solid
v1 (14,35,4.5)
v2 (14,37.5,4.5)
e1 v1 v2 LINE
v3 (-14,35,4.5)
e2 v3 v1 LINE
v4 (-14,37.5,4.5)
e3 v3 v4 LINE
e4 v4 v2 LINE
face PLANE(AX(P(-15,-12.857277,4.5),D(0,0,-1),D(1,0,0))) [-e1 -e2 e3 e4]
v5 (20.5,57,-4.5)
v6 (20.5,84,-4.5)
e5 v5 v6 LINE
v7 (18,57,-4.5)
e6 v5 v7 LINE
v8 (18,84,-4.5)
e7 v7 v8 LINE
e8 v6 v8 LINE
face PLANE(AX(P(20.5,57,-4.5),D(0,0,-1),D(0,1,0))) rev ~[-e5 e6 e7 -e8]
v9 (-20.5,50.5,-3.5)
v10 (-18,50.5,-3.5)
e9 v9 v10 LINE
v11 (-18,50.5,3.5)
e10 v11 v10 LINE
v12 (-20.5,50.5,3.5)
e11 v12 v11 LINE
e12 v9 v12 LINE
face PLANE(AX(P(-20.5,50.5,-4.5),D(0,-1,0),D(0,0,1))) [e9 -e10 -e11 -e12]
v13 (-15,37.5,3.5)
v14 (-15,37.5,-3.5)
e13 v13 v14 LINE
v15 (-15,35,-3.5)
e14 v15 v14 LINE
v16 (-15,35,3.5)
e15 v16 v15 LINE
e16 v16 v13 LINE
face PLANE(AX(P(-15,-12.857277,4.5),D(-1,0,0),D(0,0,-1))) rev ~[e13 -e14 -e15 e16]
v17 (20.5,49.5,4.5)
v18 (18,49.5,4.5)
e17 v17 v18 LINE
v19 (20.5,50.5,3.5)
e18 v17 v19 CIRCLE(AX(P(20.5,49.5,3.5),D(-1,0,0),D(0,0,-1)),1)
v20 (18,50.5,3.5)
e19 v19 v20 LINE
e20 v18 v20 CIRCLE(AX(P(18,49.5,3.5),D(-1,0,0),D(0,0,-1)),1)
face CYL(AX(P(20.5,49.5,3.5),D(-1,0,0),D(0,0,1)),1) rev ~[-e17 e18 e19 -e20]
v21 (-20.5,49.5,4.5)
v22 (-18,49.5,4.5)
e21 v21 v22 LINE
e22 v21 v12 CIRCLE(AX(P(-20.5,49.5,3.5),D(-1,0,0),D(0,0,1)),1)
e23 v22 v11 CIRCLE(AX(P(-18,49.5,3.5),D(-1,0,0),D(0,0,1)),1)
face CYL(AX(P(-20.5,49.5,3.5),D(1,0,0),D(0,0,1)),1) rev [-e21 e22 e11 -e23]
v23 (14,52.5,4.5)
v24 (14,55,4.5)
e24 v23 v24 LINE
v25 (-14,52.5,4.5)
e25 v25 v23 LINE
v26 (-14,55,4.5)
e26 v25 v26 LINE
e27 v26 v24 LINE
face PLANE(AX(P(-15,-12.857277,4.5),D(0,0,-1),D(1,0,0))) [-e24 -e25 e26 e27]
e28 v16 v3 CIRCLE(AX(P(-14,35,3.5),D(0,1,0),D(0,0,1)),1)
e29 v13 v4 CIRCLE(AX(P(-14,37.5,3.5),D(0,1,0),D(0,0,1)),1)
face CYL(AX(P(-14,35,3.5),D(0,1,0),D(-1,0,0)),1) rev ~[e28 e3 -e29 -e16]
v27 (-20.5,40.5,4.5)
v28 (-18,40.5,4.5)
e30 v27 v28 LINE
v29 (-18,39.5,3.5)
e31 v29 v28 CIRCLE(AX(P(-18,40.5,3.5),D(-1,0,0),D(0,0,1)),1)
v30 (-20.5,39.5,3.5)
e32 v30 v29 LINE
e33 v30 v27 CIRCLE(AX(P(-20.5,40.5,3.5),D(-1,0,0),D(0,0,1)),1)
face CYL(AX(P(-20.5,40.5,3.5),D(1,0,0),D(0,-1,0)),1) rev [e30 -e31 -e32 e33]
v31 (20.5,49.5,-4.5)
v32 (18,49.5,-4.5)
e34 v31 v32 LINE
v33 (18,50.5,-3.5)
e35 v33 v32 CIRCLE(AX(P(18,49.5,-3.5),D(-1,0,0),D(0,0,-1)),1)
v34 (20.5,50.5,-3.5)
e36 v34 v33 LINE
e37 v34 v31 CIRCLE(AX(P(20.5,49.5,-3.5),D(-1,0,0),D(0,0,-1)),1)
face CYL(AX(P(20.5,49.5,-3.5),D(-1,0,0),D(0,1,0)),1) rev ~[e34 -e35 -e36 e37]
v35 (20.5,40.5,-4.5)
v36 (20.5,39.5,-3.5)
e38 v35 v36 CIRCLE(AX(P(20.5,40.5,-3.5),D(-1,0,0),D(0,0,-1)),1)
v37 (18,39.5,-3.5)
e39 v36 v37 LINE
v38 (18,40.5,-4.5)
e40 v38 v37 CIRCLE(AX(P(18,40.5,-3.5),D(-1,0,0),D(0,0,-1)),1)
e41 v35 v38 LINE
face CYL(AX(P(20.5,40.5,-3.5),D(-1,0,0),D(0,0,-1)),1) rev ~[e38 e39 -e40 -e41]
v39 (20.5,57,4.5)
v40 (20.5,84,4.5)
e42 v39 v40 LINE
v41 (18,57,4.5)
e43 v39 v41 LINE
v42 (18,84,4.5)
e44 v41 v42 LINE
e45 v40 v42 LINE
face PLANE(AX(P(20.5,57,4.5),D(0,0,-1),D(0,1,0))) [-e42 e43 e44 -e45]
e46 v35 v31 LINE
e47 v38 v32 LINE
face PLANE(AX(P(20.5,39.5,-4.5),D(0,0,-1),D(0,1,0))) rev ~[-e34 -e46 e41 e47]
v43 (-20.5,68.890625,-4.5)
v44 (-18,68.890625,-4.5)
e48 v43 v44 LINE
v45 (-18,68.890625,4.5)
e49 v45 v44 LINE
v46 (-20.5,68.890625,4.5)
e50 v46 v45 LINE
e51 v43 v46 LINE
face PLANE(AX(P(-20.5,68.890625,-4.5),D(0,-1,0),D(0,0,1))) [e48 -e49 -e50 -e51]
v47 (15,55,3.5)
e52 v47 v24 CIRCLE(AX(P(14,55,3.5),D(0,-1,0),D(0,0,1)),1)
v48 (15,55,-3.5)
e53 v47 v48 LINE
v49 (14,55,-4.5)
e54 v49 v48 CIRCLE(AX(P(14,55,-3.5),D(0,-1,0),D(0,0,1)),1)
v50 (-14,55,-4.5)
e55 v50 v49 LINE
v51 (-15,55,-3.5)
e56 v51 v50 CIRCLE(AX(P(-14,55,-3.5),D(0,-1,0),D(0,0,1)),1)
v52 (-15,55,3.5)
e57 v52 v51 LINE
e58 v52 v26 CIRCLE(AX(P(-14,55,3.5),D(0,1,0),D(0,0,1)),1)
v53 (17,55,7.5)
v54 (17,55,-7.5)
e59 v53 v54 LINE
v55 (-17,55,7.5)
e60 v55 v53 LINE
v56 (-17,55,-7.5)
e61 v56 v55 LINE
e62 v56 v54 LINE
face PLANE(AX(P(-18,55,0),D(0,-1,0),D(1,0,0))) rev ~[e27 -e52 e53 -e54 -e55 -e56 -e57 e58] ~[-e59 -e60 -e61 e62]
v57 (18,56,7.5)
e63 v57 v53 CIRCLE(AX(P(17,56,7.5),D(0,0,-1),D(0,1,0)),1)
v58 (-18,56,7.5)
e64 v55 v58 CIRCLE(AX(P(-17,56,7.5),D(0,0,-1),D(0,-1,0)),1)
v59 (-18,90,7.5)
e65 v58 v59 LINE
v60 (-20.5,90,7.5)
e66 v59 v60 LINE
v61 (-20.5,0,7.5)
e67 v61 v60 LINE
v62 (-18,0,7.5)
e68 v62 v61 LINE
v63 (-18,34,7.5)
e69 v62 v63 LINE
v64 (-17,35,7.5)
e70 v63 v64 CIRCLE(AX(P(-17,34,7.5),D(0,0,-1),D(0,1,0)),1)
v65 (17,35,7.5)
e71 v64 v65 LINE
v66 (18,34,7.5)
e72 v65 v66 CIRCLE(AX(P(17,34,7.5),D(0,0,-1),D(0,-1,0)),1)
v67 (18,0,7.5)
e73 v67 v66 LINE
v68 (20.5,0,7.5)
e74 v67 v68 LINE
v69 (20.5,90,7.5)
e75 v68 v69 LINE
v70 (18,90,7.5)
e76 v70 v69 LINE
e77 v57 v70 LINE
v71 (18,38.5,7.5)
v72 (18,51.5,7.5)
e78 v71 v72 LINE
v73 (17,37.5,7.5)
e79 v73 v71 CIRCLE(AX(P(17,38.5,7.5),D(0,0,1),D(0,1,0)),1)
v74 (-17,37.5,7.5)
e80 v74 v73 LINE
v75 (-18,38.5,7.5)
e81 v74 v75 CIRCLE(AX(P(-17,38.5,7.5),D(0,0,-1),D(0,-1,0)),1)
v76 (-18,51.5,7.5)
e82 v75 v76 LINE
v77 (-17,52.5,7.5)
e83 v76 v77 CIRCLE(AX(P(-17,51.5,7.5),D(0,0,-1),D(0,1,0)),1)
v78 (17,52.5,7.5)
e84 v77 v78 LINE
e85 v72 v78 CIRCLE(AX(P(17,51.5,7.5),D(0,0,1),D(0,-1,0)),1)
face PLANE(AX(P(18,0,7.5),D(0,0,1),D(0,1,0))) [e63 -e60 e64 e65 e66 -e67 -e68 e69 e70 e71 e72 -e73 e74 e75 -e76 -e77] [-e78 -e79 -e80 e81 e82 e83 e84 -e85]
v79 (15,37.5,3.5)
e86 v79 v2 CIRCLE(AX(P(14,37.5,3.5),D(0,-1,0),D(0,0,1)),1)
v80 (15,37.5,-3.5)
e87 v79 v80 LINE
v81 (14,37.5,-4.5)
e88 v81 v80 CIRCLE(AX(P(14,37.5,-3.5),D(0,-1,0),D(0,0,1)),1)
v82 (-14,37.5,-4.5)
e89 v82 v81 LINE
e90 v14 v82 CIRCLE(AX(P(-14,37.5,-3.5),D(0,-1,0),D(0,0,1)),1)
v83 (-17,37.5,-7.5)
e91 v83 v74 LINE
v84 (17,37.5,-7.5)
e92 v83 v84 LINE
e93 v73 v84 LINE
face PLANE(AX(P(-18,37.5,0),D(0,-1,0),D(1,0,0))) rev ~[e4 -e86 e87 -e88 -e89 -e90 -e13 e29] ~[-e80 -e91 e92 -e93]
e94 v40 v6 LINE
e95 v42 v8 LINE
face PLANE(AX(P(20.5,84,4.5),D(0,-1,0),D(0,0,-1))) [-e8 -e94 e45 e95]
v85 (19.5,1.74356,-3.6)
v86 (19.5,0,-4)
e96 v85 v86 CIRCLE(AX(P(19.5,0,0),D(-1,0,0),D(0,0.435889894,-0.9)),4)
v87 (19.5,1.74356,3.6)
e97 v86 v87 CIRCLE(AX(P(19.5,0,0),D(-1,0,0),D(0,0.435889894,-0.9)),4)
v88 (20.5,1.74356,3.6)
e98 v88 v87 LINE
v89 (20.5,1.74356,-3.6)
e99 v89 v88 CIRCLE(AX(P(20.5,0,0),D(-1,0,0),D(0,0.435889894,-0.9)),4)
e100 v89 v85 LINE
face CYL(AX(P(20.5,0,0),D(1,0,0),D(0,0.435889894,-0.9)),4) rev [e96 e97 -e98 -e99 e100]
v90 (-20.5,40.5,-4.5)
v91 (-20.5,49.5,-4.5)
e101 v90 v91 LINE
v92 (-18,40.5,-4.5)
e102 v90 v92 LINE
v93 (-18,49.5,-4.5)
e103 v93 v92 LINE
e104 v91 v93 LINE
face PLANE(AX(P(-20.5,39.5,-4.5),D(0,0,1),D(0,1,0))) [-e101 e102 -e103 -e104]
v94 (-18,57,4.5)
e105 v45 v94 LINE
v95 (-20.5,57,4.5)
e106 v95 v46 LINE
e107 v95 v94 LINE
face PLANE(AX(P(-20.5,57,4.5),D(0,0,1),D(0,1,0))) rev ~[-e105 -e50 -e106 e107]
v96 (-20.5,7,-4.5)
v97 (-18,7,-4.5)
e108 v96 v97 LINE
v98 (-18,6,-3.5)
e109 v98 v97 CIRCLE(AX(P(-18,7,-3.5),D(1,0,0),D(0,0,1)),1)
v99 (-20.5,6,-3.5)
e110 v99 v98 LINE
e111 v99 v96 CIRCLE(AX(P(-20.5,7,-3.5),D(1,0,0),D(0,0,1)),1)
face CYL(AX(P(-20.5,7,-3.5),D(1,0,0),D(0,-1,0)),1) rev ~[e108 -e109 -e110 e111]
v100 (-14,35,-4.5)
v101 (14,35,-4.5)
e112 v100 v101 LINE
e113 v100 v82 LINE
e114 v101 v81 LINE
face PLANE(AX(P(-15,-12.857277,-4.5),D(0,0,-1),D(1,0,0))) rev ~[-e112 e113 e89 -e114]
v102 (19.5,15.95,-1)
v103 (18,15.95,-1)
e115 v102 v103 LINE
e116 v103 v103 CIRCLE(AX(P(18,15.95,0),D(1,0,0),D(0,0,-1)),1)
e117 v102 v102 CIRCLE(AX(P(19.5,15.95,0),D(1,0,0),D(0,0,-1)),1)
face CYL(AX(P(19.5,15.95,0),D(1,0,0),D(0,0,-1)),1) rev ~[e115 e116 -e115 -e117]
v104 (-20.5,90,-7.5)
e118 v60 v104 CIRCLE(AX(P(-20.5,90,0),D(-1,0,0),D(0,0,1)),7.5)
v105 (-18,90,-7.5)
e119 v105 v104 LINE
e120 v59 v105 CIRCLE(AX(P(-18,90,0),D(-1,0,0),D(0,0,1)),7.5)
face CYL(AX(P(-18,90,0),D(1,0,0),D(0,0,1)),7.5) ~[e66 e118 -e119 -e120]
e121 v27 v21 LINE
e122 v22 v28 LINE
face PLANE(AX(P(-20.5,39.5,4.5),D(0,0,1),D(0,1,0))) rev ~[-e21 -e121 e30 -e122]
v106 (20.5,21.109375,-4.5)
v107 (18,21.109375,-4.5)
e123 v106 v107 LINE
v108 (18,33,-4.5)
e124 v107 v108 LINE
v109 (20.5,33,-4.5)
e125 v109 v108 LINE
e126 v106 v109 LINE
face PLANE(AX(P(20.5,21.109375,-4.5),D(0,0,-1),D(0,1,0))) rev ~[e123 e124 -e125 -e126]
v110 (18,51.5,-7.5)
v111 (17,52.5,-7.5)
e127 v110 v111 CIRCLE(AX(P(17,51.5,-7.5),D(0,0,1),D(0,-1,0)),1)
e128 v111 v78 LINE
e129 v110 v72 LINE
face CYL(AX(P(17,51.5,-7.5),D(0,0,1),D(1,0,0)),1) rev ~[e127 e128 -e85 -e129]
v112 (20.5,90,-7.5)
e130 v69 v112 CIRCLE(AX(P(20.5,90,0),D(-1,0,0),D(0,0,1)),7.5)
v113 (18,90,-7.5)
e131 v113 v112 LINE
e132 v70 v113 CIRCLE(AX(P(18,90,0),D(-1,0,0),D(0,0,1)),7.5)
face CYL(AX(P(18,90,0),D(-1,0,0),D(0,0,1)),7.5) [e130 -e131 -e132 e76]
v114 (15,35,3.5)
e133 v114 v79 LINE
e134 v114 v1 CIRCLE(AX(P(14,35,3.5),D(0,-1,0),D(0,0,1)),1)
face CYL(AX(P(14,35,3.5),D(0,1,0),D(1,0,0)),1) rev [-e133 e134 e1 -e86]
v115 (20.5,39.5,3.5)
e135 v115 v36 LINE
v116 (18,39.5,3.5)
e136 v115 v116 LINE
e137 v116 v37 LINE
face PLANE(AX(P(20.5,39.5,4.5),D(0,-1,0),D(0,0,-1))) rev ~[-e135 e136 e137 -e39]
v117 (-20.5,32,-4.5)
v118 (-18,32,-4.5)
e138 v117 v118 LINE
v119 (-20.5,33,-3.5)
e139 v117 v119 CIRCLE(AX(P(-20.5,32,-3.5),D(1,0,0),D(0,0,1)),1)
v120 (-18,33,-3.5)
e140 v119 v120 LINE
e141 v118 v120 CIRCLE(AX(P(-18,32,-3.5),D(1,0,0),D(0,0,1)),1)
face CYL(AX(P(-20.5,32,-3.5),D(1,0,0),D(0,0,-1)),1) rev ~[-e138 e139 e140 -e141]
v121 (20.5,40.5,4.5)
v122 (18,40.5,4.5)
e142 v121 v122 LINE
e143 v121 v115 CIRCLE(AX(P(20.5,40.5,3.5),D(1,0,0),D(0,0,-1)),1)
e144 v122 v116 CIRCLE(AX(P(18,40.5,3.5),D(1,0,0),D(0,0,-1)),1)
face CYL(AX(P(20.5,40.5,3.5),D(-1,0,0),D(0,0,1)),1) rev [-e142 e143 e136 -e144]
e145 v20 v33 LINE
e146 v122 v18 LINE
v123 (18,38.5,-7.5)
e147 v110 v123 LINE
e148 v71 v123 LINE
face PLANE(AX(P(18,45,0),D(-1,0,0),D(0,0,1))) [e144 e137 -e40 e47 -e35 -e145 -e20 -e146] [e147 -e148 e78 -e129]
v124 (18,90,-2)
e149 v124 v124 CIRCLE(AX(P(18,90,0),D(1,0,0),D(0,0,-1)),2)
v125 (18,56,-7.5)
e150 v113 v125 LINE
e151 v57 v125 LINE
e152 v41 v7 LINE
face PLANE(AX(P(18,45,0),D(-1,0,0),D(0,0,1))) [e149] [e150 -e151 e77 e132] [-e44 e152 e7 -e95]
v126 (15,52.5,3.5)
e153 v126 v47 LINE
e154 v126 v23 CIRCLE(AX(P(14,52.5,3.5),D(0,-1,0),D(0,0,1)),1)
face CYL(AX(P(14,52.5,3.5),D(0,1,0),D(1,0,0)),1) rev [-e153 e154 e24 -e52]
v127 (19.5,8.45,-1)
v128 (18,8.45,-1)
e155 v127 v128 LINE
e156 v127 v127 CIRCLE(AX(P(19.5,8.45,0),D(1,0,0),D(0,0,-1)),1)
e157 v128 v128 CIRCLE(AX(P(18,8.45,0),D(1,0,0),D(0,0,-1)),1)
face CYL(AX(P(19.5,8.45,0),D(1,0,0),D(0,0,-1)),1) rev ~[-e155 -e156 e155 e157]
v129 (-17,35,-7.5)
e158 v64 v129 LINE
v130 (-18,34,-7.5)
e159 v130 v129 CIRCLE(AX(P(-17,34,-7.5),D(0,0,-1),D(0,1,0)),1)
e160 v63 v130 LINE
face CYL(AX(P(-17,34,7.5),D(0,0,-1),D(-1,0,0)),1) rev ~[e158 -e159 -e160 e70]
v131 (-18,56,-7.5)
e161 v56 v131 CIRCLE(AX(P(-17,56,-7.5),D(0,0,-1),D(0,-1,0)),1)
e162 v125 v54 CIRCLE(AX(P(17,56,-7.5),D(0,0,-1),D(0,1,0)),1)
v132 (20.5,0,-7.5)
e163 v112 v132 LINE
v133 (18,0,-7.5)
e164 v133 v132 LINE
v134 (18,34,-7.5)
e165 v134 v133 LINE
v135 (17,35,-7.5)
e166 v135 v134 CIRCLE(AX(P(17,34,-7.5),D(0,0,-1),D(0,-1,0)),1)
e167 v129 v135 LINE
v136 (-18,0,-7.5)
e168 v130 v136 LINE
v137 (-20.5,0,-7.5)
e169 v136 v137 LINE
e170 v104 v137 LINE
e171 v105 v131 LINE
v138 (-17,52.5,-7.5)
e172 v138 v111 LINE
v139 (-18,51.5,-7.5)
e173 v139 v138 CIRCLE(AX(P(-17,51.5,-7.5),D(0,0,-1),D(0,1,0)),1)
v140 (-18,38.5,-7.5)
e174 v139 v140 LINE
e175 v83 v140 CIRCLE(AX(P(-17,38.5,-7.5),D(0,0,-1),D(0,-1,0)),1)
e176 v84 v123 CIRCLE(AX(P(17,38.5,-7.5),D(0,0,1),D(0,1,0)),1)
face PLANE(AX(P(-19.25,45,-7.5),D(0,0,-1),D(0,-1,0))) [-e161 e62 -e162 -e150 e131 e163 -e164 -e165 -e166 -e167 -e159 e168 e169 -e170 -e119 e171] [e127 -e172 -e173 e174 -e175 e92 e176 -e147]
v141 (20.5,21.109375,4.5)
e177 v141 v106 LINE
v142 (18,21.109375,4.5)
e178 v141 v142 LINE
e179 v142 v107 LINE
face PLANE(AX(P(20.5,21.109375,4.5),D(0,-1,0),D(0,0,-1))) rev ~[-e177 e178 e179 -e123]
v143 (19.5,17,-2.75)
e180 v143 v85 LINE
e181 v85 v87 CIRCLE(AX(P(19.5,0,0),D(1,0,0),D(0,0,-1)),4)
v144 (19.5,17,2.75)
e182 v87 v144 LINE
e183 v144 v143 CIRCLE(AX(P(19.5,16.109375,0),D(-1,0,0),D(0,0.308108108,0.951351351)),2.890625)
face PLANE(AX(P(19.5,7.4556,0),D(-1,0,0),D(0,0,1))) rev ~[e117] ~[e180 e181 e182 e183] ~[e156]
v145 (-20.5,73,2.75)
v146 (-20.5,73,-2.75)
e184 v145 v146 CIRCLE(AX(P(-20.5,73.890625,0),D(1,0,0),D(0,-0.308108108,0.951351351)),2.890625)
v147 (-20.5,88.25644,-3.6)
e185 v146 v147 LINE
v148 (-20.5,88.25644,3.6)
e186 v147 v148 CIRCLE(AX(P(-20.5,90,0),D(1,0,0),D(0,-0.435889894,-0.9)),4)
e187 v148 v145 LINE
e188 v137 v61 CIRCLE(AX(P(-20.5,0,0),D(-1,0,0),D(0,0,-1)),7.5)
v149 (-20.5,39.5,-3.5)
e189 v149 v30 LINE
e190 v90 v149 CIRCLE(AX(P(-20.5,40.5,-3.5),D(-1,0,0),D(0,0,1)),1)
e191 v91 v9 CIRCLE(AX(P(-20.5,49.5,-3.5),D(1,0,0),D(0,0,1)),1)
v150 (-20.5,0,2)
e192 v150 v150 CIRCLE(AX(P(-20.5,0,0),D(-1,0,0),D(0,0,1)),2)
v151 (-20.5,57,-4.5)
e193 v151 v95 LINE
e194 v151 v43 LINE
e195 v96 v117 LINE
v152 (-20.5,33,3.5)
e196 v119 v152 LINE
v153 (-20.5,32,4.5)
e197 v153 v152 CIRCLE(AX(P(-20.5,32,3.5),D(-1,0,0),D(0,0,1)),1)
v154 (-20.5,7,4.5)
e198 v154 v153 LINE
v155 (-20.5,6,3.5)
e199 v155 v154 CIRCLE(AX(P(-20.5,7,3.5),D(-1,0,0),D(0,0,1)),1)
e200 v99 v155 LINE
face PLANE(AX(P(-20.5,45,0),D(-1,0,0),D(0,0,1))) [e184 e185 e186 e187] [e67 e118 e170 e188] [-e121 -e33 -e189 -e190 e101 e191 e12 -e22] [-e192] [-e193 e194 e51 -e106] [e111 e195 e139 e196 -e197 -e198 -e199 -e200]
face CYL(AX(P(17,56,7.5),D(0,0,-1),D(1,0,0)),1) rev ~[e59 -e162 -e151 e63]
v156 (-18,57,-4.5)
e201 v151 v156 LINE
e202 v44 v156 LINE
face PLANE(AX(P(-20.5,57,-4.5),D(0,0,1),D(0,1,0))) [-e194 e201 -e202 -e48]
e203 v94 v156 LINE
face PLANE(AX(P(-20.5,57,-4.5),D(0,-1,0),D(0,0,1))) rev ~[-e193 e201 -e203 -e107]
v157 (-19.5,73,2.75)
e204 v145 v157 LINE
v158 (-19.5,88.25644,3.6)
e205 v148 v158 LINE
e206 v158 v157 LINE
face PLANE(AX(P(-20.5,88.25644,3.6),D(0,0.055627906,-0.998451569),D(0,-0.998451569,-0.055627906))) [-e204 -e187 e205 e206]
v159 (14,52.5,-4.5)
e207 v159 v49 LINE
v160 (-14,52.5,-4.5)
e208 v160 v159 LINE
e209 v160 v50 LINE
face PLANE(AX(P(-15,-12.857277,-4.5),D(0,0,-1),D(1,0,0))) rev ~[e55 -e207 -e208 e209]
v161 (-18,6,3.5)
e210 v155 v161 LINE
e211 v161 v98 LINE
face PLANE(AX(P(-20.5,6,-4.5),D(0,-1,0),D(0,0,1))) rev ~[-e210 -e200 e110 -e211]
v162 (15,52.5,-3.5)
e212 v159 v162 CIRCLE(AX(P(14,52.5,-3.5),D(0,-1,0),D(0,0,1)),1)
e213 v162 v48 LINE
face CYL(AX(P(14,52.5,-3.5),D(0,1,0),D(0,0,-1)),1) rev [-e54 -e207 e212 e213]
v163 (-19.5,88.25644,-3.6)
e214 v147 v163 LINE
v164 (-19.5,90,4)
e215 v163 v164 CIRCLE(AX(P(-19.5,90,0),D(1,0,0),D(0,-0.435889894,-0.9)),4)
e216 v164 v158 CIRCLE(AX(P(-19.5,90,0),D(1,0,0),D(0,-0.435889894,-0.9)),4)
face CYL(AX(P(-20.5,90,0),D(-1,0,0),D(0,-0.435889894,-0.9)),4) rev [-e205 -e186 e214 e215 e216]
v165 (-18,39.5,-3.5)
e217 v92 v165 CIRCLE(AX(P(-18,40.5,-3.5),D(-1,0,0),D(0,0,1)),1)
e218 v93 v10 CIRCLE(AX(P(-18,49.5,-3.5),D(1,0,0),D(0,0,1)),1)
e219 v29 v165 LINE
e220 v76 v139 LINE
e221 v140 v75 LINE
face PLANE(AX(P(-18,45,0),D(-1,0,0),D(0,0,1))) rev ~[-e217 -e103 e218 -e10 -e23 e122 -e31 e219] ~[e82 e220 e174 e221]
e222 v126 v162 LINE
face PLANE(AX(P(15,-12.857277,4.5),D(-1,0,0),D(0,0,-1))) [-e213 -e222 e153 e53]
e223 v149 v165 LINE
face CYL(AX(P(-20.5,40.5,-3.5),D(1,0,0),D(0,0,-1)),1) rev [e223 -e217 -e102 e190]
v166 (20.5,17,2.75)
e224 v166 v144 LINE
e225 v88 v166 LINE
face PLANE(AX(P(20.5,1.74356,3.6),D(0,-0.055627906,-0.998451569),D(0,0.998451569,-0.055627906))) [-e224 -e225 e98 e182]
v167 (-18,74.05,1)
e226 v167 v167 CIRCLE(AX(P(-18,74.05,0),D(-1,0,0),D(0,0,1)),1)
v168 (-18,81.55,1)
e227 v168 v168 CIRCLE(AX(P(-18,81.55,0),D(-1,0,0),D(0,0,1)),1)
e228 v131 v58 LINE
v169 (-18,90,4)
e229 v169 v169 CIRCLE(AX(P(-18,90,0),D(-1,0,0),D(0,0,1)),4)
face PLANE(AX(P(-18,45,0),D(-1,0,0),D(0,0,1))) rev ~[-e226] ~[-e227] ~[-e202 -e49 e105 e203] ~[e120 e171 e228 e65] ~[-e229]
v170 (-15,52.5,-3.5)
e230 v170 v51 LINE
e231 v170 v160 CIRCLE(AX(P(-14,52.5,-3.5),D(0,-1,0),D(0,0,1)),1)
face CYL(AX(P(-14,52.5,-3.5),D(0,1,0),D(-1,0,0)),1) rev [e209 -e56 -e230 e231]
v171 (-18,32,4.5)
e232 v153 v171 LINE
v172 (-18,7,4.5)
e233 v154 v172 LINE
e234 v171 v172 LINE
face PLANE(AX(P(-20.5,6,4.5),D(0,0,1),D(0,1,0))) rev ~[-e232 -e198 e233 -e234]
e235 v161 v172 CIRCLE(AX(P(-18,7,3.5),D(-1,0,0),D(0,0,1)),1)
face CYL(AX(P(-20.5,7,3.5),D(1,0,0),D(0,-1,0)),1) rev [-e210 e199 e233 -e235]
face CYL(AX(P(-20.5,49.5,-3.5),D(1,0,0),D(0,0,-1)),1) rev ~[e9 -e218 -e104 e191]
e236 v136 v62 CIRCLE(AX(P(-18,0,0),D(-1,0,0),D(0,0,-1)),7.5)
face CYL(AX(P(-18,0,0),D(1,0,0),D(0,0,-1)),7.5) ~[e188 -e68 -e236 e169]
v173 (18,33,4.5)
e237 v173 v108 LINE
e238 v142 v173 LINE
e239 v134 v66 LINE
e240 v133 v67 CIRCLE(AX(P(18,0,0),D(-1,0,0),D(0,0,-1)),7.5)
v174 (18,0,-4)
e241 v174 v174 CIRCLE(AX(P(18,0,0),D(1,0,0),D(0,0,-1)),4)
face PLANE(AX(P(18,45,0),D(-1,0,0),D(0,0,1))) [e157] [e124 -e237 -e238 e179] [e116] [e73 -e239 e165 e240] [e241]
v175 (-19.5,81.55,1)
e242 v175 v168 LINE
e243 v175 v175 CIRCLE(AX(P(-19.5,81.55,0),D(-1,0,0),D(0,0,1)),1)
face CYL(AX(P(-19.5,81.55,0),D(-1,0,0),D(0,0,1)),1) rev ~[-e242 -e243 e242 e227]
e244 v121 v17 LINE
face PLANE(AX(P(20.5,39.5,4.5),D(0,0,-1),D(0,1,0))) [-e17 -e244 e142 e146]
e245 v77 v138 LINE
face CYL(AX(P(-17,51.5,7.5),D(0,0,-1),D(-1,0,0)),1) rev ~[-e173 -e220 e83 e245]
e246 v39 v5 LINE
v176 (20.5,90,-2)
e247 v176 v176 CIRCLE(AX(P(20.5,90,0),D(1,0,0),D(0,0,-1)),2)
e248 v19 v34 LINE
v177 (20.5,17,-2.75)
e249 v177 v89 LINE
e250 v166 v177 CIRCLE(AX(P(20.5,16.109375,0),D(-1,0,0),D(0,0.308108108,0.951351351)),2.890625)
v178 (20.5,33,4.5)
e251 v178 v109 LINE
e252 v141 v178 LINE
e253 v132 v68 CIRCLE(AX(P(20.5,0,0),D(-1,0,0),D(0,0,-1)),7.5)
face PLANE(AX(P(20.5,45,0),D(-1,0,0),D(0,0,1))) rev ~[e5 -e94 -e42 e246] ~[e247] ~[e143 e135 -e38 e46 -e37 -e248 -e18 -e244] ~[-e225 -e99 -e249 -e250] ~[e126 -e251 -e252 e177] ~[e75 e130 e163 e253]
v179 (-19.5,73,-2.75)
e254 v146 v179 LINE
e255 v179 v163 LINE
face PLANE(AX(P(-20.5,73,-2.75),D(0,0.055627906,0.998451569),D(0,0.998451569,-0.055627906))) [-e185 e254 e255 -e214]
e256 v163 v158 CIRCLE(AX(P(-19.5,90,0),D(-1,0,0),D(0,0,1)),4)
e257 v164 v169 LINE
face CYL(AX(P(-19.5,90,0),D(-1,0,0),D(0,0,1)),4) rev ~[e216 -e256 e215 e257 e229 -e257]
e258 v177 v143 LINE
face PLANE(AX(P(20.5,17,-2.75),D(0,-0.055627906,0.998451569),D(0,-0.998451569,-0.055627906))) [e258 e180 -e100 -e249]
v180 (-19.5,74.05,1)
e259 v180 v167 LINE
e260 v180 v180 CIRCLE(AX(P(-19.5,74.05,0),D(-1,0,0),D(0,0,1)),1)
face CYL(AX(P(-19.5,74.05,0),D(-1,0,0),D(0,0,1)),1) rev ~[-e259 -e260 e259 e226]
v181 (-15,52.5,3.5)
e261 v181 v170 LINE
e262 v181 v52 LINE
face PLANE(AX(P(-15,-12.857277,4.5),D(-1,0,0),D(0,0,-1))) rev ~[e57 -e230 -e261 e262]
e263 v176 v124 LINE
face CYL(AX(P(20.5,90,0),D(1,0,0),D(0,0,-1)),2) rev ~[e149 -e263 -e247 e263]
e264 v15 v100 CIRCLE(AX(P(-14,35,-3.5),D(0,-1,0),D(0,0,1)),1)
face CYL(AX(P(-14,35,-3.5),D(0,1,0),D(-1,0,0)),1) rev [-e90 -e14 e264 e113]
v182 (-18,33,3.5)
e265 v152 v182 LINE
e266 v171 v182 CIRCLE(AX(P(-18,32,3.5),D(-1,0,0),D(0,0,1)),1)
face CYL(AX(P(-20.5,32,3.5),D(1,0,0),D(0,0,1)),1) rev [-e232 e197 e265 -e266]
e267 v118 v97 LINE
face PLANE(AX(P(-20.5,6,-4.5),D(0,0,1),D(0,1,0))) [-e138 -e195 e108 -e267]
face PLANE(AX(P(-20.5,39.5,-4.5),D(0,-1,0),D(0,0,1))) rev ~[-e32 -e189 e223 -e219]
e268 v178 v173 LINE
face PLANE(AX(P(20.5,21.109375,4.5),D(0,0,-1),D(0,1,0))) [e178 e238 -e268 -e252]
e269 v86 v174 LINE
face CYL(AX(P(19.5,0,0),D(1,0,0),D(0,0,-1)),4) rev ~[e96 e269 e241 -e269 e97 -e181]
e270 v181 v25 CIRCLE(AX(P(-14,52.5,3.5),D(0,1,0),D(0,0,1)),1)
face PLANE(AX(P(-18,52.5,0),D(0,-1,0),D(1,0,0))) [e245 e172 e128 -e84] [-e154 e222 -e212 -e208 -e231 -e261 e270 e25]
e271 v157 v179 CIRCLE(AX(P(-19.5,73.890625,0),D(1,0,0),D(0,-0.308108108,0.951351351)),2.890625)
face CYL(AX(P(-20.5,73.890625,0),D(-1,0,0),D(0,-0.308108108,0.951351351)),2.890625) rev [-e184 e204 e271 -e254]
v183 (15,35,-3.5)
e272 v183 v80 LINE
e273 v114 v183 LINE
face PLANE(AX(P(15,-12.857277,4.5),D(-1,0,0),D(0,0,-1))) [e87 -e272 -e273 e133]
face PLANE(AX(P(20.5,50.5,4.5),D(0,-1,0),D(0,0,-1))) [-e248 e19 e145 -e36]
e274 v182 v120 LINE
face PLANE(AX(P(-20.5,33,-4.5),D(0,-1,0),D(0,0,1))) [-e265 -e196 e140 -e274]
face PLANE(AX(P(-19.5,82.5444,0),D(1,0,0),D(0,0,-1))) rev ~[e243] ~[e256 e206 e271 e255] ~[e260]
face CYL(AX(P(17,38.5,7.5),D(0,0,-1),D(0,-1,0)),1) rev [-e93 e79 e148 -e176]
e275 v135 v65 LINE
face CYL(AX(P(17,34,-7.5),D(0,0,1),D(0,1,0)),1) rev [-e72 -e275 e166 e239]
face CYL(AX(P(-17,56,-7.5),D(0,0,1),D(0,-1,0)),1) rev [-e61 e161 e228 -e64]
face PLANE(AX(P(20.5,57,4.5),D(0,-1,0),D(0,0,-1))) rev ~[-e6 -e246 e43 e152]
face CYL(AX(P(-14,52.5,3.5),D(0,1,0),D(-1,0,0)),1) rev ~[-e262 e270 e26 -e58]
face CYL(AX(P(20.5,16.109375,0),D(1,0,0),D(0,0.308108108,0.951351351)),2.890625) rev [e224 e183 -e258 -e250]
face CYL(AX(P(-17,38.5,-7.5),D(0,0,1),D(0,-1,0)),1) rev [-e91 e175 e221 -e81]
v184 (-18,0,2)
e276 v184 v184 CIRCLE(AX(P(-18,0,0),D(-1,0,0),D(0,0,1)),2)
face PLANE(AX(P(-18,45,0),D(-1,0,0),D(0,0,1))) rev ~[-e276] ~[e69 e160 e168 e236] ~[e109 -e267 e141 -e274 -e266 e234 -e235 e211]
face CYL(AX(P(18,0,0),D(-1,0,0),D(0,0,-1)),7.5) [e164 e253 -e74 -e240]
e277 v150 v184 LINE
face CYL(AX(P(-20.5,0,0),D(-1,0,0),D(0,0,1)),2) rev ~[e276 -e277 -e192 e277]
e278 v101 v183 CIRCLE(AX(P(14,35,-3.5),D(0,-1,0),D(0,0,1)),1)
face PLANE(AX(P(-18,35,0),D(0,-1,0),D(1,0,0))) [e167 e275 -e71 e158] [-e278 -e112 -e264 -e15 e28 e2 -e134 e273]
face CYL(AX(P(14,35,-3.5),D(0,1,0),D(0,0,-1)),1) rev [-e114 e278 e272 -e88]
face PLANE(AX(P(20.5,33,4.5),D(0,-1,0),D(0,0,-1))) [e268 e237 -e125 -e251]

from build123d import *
from build123d.topology import SkipClean

# Parameters (mm, degrees)
EXTRUDE_1_DEPTH                 = 2.5
SKETCH_6_R                      = 2
CUT_EXTRUDE_1_DEPTH             = 3
EXTRUDE_2_DEPTH                 = 2.5
CUT_EXTRUDE_2_DEPTH             = 1
SKETCH_8_R                      = 4
SKETCH_8_R_2                    = 1
CUT_EXTRUDE_3_DEPTH             = 1.5
SKETCH_9_R                      = 2
CUT_EXTRUDE_4_DEPTH             = 2.5
CUT_EXTRUDE_5_DEPTH             = 1
SKETCH_11_R                     = 4
SKETCH_11_R_2                   = 1
CUT_EXTRUDE_6_DEPTH             = 1.5
EXTRUDE_3_REACH                 = 101.914
SKETCH_12_W                     = 36
SKETCH_12_H                     = 2.5
EXTRUDE_3_DIRECTION_2_REACH     = 101.914
CUT_EXTRUDE_7_REACH             = 108.035
SKETCH_13_W                     = 9
SKETCH_13_H                     = 27
SKETCH_13_H_2                   = 11
SKETCH_13_H_3                   = 11.890625
CUT_EXTRUDE_8_REACH             = 108.035
SKETCH_14_W                     = 9
SKETCH_14_H                     = 27
SKETCH_14_H_2                   = 11
SKETCH_14_H_3                   = 11.890625
CUT_EXTRUDE_8_DIRECTION_2_DEPTH = 107.035371457
CUT_EXTRUDE_9_DEPTH             = 57.857277459
CUT_EXTRUDE_9_DEPTH_BACK        = 57.857277459
SKETCH_15_W                     = 30
SKETCH_15_H                     = 9
FILLET_1_R                      = 1


with BuildPart() as part:
    # 草图4 → 凸台-拉伸1 (new body)
    with BuildSketch(Plane.ZY.offset(18)):
        with BuildLine():
            Line((-7.5, 90), (-7.5, 0))
            ThreePointArc((-7.5, 0), (0, -7.5), (7.5, 0))
            Line((7.5, 0), (7.5, 90))
            ThreePointArc((7.5, 90), (0, 97.5), (-7.5, 90))
        make_face()
    extrude(amount=EXTRUDE_1_DEPTH)

    # 草图6 → 切除-拉伸1 (cut)
    with BuildSketch(Plane.ZY.offset(20.5)):
        Circle(SKETCH_6_R)
    extrude(amount=-CUT_EXTRUDE_1_DEPTH, mode=Mode.SUBTRACT)

    # 草图10 → 切除-拉伸5 (cut)
    with BuildSketch(Plane.ZY.offset(20.5)):
        with BuildLine():
            Line((-2.75, 73), (-3.6, 88.256440423))
            ThreePointArc((-3.6, 88.256440423), (0, 94), (3.6, 88.256440423))
            Line((3.6, 88.256440423), (2.75, 73))
            ThreePointArc((2.75, 73), (0, 71), (-2.75, 73))
        make_face()
    extrude(amount=-CUT_EXTRUDE_5_DEPTH, mode=Mode.SUBTRACT)

    # 草图11 → 切除-拉伸6 (cut)
    with SkipClean():  # the faces are left unmerged after this step: merging them gives an invalid solid
        with BuildSketch(Plane.ZY.offset(19.5)):
            with Locations((0, 90)):
                Circle(SKETCH_11_R)
            with Locations((0, 74.05)):
                Circle(SKETCH_11_R_2)
            with Locations((0, 81.55)):
                Circle(SKETCH_11_R_2)
        extrude(amount=-CUT_EXTRUDE_6_DEPTH, mode=Mode.SUBTRACT)

    # 凸台-拉伸3: up to this face of the body (flat: up to its plane)
    extrude_3_end = Plane(part.part.faces().sort_by_distance((-19.25, 45, 7.5))[0])
    # 草图12 → 凸台-拉伸3 (add, up to the picked face)
    with BuildSketch(Plane.XY, mode=Mode.PRIVATE) as extrude_3_sk1:
        with Locations((0, 53.75)):
            Rectangle(SKETCH_12_W, SKETCH_12_H)
    extrude_3_tool1 = split(extrude(extrude_3_sk1.sketch, amount=EXTRUDE_3_REACH, mode=Mode.PRIVATE), bisect_by=extrude_3_end, keep=Keep.BOTH, mode=Mode.PRIVATE)
    # 草图12 → 凸台-拉伸3 (add, up to the picked face)
    with BuildSketch(Plane.XY, mode=Mode.PRIVATE) as extrude_3_sk2:
        with Locations((0, 36.25)):
            Rectangle(SKETCH_12_W, SKETCH_12_H)
    extrude_3_tool2 = split(extrude(extrude_3_sk2.sketch, amount=EXTRUDE_3_REACH, mode=Mode.PRIVATE), bisect_by=extrude_3_end, keep=Keep.BOTH, mode=Mode.PRIVATE)


with BuildPart() as body_2:
    # 草图5 → 凸台-拉伸2 (new body)
    with BuildSketch(Plane(origin=(18, 0, 0), x_dir=(0, 0, -1), z_dir=(1, 0, 0))):
        with BuildLine():
            Line((-7.5, 0), (-7.5, 90))
            ThreePointArc((-7.5, 90), (0, 97.5), (7.5, 90))
            Line((7.5, 90), (7.5, 0))
            ThreePointArc((7.5, 0), (0, -7.5), (-7.5, 0))
        make_face()
    extrude(amount=EXTRUDE_2_DEPTH)

    # 草图7 → 切除-拉伸2 (cut)
    with BuildSketch(Plane(origin=(20.5, 0, 0), x_dir=(0, 0, -1), z_dir=(1, 0, 0))):
        with BuildLine():
            Line((-3.6, 1.743559577), (-2.75, 17))
            ThreePointArc((-2.75, 17), (0, 19), (2.75, 17))
            Line((2.75, 17), (3.6, 1.743559577))
            ThreePointArc((3.6, 1.743559577), (0, -4), (-3.6, 1.743559577))
        make_face()
    extrude(amount=-CUT_EXTRUDE_2_DEPTH, mode=Mode.SUBTRACT)

    # 草图8 → 切除-拉伸3 (cut)
    with SkipClean():  # the faces are left unmerged after this step: merging them gives an invalid solid
        with BuildSketch(Plane(origin=(19.5, 0, 0), x_dir=(0, 0, -1), z_dir=(1, 0, 0))):
            Circle(SKETCH_8_R)
            with Locations((0, 15.95)):
                Circle(SKETCH_8_R_2)
            with Locations((0, 8.45)):
                Circle(SKETCH_8_R_2)
        extrude(amount=-CUT_EXTRUDE_3_DEPTH, mode=Mode.SUBTRACT)

    # 草图9 → 切除-拉伸4 (cut)
    with SkipClean():  # the faces are left unmerged after this step: merging them gives an invalid solid
        with BuildSketch(Plane(origin=(20.5, 0, 0), x_dir=(0, 0, -1), z_dir=(1, 0, 0))):
            with Locations((0, 90)):
                Circle(SKETCH_9_R)
        extrude(amount=-CUT_EXTRUDE_4_DEPTH, mode=Mode.SUBTRACT)


with BuildPart() as part_1:
    add(part.part)

    add(body_2.part)  # 凸台-拉伸3 merges body 2
    add(extrude_3_tool1.solids().sort_by(Axis((0, 53.75, 0), (0, 0, 1)))[0])
    add(extrude_3_tool2.solids().sort_by(Axis((0, 36.25, 0), (0, 0, 1)))[0])

    # 凸台-拉伸3 direction 2: up to this face of the body (flat: up to its plane)
    extrude_3_direction_2_end = Plane(part_1.part.faces().sort_by_distance((-19.25, 45, -7.5))[0])
    # 草图12 → 凸台-拉伸3 direction 2 (add, up to the picked face)
    with BuildSketch(Plane.XY, mode=Mode.PRIVATE) as extrude_3_direction_2_sk1:
        with Locations((0, 53.75)):
            Rectangle(SKETCH_12_W, SKETCH_12_H)
    extrude_3_direction_2_tool1 = split(extrude(extrude_3_direction_2_sk1.sketch, amount=-EXTRUDE_3_DIRECTION_2_REACH, mode=Mode.PRIVATE), bisect_by=extrude_3_direction_2_end, keep=Keep.BOTH, mode=Mode.PRIVATE)
    # 草图12 → 凸台-拉伸3 direction 2 (add, up to the picked face)
    with BuildSketch(Plane.XY, mode=Mode.PRIVATE) as extrude_3_direction_2_sk2:
        with Locations((0, 36.25)):
            Rectangle(SKETCH_12_W, SKETCH_12_H)
    extrude_3_direction_2_tool2 = split(extrude(extrude_3_direction_2_sk2.sketch, amount=-EXTRUDE_3_DIRECTION_2_REACH, mode=Mode.PRIVATE), bisect_by=extrude_3_direction_2_end, keep=Keep.BOTH, mode=Mode.PRIVATE)
    add(extrude_3_direction_2_tool1.solids().sort_by(Axis((0, 53.75, 0), (0, 0, -1)))[0])
    add(extrude_3_direction_2_tool2.solids().sort_by(Axis((0, 36.25, 0), (0, 0, -1)))[0])

    # 草图13 → 切除-拉伸7 (cut, up to next)
    with BuildSketch(Plane.ZY.offset(20.5), mode=Mode.PRIVATE) as cut_extrude_7_sk1:
        with Locations((0, 19.5)):
            Rectangle(SKETCH_13_W, SKETCH_13_H)
    cut_extrude_7_tool1 = extrude(cut_extrude_7_sk1.sketch, amount=-CUT_EXTRUDE_7_REACH, mode=Mode.PRIVATE) & part_1.part
    # 草图13 → 切除-拉伸7 (cut, up to next)
    with BuildSketch(Plane.ZY.offset(20.5), mode=Mode.PRIVATE) as cut_extrude_7_sk2:
        with Locations((0, 45)):
            Rectangle(SKETCH_13_W, SKETCH_13_H_2)
    cut_extrude_7_tool2 = extrude(cut_extrude_7_sk2.sketch, amount=-CUT_EXTRUDE_7_REACH, mode=Mode.PRIVATE) & part_1.part
    # 草图13 → 切除-拉伸7 (cut, up to next)
    with BuildSketch(Plane.ZY.offset(20.5), mode=Mode.PRIVATE) as cut_extrude_7_sk3:
        with Locations((0, 62.9453125)):
            Rectangle(SKETCH_13_W, SKETCH_13_H_3)
    cut_extrude_7_tool3 = extrude(cut_extrude_7_sk3.sketch, amount=-CUT_EXTRUDE_7_REACH, mode=Mode.PRIVATE) & part_1.part
    add(cut_extrude_7_tool1.solids().sort_by_distance((-20.5, 19.5, 0))[0], mode=Mode.SUBTRACT)
    add(cut_extrude_7_tool2.solids().sort_by_distance((-20.5, 45, 0))[0], mode=Mode.SUBTRACT)
    add(cut_extrude_7_tool3.solids().sort_by_distance((-20.5, 62.945312, 0))[0], mode=Mode.SUBTRACT)

    # 草图14 → 切除-拉伸8 (cut, up to next)
    with BuildSketch(Plane(origin=(20.5, 0, 0), x_dir=(0, 0, -1), z_dir=(1, 0, 0)), mode=Mode.PRIVATE) as cut_extrude_8_sk1:
        with Locations((0, 70.5)):
            Rectangle(SKETCH_14_W, SKETCH_14_H)
    cut_extrude_8_tool1 = extrude(cut_extrude_8_sk1.sketch, amount=-CUT_EXTRUDE_8_REACH, mode=Mode.PRIVATE) & part_1.part
    # 草图14 → 切除-拉伸8 (cut, up to next)
    with BuildSketch(Plane(origin=(20.5, 0, 0), x_dir=(0, 0, -1), z_dir=(1, 0, 0)), mode=Mode.PRIVATE) as cut_extrude_8_sk2:
        with Locations((0, 45)):
            Rectangle(SKETCH_14_W, SKETCH_14_H_2)
    cut_extrude_8_tool2 = extrude(cut_extrude_8_sk2.sketch, amount=-CUT_EXTRUDE_8_REACH, mode=Mode.PRIVATE) & part_1.part
    # 草图14 → 切除-拉伸8 (cut, up to next)
    with BuildSketch(Plane(origin=(20.5, 0, 0), x_dir=(0, 0, -1), z_dir=(1, 0, 0)), mode=Mode.PRIVATE) as cut_extrude_8_sk3:
        with Locations((0, 27.0546875)):
            Rectangle(SKETCH_14_W, SKETCH_14_H_3)
    cut_extrude_8_tool3 = extrude(cut_extrude_8_sk3.sketch, amount=-CUT_EXTRUDE_8_REACH, mode=Mode.PRIVATE) & part_1.part
    add(cut_extrude_8_tool1.solids().sort_by_distance((20.5, 70.5, 0))[0], mode=Mode.SUBTRACT)
    add(cut_extrude_8_tool2.solids().sort_by_distance((20.5, 45, 0))[0], mode=Mode.SUBTRACT)
    add(cut_extrude_8_tool3.solids().sort_by_distance((20.5, 27.054688, 0))[0], mode=Mode.SUBTRACT)

    # 草图14 → 切除-拉伸8 direction 2 (cut)
    with SkipClean():  # the faces are left unmerged after this step: merging them gives an invalid solid
        with BuildSketch(Plane(origin=(20.5, 0, 0), x_dir=(0, 0, -1), z_dir=(1, 0, 0))):
            with Locations((0, 70.5)):
                Rectangle(SKETCH_14_W, SKETCH_14_H)
            with Locations((0, 45)):
                Rectangle(SKETCH_14_W, SKETCH_14_H_2)
            with Locations((0, 27.0546875)):
                Rectangle(SKETCH_14_W, SKETCH_14_H_3)
        extrude(amount=CUT_EXTRUDE_8_DIRECTION_2_DEPTH, mode=Mode.SUBTRACT)

    # 草图15 → 切除-拉伸9 (cut, two sides: drawn at the far end of the back side and taken through both)
    with SkipClean():  # the faces are left unmerged after this step: merging them gives an invalid solid
        with BuildSketch(Plane(origin=(0, 45, 0), x_dir=(1, 0, 0), z_dir=(0, 1, 0)).offset(-CUT_EXTRUDE_9_DEPTH_BACK)):
            Rectangle(SKETCH_15_W, SKETCH_15_H)
        extrude(amount=CUT_EXTRUDE_9_DEPTH + CUT_EXTRUDE_9_DEPTH_BACK, mode=Mode.SUBTRACT)

    # 圆角1
    fillet_1_edges = [part_1.edges().sort_by_distance(p)[0] for p in [
        (-19.25, 33, -4.5),
        (-19.25, 6, -4.5),
        (-19.25, 6, 4.5),
        (-19.25, 33, 4.5),
        (-19.25, 50.5, -4.5),
        (-19.25, 39.5, -4.5),
        (-19.25, 39.5, 4.5),
        (-19.25, 50.5, 4.5),
        (19.25, 50.5, 4.5),
        (19.25, 39.5, 4.5),
        (19.25, 39.5, -4.5),
        (19.25, 50.5, -4.5),
        (-15, 53.75, 4.5),
        (-15, 36.25, 4.5),
        (-15, 53.75, -4.5),
        (-15, 36.25, -4.5),
        (15, 53.75, -4.5),
        (15, 36.25, -4.5),
        (15, 53.75, 4.5),
        (15, 36.25, 4.5),
        (-18, 52.5, -3.75),
        (-18, 55, -3.75),
        (18, 55, 3.75),
        (18, 52.5, 3.75),
        (18, 37.5, 3.75),
        (18, 35, 3.75),
        (-18, 35, -3.75),
        (-18, 37.5, -3.75),
    ]]
    fillet(fillet_1_edges, radius=FILLET_1_R)


solid = part_1.part
